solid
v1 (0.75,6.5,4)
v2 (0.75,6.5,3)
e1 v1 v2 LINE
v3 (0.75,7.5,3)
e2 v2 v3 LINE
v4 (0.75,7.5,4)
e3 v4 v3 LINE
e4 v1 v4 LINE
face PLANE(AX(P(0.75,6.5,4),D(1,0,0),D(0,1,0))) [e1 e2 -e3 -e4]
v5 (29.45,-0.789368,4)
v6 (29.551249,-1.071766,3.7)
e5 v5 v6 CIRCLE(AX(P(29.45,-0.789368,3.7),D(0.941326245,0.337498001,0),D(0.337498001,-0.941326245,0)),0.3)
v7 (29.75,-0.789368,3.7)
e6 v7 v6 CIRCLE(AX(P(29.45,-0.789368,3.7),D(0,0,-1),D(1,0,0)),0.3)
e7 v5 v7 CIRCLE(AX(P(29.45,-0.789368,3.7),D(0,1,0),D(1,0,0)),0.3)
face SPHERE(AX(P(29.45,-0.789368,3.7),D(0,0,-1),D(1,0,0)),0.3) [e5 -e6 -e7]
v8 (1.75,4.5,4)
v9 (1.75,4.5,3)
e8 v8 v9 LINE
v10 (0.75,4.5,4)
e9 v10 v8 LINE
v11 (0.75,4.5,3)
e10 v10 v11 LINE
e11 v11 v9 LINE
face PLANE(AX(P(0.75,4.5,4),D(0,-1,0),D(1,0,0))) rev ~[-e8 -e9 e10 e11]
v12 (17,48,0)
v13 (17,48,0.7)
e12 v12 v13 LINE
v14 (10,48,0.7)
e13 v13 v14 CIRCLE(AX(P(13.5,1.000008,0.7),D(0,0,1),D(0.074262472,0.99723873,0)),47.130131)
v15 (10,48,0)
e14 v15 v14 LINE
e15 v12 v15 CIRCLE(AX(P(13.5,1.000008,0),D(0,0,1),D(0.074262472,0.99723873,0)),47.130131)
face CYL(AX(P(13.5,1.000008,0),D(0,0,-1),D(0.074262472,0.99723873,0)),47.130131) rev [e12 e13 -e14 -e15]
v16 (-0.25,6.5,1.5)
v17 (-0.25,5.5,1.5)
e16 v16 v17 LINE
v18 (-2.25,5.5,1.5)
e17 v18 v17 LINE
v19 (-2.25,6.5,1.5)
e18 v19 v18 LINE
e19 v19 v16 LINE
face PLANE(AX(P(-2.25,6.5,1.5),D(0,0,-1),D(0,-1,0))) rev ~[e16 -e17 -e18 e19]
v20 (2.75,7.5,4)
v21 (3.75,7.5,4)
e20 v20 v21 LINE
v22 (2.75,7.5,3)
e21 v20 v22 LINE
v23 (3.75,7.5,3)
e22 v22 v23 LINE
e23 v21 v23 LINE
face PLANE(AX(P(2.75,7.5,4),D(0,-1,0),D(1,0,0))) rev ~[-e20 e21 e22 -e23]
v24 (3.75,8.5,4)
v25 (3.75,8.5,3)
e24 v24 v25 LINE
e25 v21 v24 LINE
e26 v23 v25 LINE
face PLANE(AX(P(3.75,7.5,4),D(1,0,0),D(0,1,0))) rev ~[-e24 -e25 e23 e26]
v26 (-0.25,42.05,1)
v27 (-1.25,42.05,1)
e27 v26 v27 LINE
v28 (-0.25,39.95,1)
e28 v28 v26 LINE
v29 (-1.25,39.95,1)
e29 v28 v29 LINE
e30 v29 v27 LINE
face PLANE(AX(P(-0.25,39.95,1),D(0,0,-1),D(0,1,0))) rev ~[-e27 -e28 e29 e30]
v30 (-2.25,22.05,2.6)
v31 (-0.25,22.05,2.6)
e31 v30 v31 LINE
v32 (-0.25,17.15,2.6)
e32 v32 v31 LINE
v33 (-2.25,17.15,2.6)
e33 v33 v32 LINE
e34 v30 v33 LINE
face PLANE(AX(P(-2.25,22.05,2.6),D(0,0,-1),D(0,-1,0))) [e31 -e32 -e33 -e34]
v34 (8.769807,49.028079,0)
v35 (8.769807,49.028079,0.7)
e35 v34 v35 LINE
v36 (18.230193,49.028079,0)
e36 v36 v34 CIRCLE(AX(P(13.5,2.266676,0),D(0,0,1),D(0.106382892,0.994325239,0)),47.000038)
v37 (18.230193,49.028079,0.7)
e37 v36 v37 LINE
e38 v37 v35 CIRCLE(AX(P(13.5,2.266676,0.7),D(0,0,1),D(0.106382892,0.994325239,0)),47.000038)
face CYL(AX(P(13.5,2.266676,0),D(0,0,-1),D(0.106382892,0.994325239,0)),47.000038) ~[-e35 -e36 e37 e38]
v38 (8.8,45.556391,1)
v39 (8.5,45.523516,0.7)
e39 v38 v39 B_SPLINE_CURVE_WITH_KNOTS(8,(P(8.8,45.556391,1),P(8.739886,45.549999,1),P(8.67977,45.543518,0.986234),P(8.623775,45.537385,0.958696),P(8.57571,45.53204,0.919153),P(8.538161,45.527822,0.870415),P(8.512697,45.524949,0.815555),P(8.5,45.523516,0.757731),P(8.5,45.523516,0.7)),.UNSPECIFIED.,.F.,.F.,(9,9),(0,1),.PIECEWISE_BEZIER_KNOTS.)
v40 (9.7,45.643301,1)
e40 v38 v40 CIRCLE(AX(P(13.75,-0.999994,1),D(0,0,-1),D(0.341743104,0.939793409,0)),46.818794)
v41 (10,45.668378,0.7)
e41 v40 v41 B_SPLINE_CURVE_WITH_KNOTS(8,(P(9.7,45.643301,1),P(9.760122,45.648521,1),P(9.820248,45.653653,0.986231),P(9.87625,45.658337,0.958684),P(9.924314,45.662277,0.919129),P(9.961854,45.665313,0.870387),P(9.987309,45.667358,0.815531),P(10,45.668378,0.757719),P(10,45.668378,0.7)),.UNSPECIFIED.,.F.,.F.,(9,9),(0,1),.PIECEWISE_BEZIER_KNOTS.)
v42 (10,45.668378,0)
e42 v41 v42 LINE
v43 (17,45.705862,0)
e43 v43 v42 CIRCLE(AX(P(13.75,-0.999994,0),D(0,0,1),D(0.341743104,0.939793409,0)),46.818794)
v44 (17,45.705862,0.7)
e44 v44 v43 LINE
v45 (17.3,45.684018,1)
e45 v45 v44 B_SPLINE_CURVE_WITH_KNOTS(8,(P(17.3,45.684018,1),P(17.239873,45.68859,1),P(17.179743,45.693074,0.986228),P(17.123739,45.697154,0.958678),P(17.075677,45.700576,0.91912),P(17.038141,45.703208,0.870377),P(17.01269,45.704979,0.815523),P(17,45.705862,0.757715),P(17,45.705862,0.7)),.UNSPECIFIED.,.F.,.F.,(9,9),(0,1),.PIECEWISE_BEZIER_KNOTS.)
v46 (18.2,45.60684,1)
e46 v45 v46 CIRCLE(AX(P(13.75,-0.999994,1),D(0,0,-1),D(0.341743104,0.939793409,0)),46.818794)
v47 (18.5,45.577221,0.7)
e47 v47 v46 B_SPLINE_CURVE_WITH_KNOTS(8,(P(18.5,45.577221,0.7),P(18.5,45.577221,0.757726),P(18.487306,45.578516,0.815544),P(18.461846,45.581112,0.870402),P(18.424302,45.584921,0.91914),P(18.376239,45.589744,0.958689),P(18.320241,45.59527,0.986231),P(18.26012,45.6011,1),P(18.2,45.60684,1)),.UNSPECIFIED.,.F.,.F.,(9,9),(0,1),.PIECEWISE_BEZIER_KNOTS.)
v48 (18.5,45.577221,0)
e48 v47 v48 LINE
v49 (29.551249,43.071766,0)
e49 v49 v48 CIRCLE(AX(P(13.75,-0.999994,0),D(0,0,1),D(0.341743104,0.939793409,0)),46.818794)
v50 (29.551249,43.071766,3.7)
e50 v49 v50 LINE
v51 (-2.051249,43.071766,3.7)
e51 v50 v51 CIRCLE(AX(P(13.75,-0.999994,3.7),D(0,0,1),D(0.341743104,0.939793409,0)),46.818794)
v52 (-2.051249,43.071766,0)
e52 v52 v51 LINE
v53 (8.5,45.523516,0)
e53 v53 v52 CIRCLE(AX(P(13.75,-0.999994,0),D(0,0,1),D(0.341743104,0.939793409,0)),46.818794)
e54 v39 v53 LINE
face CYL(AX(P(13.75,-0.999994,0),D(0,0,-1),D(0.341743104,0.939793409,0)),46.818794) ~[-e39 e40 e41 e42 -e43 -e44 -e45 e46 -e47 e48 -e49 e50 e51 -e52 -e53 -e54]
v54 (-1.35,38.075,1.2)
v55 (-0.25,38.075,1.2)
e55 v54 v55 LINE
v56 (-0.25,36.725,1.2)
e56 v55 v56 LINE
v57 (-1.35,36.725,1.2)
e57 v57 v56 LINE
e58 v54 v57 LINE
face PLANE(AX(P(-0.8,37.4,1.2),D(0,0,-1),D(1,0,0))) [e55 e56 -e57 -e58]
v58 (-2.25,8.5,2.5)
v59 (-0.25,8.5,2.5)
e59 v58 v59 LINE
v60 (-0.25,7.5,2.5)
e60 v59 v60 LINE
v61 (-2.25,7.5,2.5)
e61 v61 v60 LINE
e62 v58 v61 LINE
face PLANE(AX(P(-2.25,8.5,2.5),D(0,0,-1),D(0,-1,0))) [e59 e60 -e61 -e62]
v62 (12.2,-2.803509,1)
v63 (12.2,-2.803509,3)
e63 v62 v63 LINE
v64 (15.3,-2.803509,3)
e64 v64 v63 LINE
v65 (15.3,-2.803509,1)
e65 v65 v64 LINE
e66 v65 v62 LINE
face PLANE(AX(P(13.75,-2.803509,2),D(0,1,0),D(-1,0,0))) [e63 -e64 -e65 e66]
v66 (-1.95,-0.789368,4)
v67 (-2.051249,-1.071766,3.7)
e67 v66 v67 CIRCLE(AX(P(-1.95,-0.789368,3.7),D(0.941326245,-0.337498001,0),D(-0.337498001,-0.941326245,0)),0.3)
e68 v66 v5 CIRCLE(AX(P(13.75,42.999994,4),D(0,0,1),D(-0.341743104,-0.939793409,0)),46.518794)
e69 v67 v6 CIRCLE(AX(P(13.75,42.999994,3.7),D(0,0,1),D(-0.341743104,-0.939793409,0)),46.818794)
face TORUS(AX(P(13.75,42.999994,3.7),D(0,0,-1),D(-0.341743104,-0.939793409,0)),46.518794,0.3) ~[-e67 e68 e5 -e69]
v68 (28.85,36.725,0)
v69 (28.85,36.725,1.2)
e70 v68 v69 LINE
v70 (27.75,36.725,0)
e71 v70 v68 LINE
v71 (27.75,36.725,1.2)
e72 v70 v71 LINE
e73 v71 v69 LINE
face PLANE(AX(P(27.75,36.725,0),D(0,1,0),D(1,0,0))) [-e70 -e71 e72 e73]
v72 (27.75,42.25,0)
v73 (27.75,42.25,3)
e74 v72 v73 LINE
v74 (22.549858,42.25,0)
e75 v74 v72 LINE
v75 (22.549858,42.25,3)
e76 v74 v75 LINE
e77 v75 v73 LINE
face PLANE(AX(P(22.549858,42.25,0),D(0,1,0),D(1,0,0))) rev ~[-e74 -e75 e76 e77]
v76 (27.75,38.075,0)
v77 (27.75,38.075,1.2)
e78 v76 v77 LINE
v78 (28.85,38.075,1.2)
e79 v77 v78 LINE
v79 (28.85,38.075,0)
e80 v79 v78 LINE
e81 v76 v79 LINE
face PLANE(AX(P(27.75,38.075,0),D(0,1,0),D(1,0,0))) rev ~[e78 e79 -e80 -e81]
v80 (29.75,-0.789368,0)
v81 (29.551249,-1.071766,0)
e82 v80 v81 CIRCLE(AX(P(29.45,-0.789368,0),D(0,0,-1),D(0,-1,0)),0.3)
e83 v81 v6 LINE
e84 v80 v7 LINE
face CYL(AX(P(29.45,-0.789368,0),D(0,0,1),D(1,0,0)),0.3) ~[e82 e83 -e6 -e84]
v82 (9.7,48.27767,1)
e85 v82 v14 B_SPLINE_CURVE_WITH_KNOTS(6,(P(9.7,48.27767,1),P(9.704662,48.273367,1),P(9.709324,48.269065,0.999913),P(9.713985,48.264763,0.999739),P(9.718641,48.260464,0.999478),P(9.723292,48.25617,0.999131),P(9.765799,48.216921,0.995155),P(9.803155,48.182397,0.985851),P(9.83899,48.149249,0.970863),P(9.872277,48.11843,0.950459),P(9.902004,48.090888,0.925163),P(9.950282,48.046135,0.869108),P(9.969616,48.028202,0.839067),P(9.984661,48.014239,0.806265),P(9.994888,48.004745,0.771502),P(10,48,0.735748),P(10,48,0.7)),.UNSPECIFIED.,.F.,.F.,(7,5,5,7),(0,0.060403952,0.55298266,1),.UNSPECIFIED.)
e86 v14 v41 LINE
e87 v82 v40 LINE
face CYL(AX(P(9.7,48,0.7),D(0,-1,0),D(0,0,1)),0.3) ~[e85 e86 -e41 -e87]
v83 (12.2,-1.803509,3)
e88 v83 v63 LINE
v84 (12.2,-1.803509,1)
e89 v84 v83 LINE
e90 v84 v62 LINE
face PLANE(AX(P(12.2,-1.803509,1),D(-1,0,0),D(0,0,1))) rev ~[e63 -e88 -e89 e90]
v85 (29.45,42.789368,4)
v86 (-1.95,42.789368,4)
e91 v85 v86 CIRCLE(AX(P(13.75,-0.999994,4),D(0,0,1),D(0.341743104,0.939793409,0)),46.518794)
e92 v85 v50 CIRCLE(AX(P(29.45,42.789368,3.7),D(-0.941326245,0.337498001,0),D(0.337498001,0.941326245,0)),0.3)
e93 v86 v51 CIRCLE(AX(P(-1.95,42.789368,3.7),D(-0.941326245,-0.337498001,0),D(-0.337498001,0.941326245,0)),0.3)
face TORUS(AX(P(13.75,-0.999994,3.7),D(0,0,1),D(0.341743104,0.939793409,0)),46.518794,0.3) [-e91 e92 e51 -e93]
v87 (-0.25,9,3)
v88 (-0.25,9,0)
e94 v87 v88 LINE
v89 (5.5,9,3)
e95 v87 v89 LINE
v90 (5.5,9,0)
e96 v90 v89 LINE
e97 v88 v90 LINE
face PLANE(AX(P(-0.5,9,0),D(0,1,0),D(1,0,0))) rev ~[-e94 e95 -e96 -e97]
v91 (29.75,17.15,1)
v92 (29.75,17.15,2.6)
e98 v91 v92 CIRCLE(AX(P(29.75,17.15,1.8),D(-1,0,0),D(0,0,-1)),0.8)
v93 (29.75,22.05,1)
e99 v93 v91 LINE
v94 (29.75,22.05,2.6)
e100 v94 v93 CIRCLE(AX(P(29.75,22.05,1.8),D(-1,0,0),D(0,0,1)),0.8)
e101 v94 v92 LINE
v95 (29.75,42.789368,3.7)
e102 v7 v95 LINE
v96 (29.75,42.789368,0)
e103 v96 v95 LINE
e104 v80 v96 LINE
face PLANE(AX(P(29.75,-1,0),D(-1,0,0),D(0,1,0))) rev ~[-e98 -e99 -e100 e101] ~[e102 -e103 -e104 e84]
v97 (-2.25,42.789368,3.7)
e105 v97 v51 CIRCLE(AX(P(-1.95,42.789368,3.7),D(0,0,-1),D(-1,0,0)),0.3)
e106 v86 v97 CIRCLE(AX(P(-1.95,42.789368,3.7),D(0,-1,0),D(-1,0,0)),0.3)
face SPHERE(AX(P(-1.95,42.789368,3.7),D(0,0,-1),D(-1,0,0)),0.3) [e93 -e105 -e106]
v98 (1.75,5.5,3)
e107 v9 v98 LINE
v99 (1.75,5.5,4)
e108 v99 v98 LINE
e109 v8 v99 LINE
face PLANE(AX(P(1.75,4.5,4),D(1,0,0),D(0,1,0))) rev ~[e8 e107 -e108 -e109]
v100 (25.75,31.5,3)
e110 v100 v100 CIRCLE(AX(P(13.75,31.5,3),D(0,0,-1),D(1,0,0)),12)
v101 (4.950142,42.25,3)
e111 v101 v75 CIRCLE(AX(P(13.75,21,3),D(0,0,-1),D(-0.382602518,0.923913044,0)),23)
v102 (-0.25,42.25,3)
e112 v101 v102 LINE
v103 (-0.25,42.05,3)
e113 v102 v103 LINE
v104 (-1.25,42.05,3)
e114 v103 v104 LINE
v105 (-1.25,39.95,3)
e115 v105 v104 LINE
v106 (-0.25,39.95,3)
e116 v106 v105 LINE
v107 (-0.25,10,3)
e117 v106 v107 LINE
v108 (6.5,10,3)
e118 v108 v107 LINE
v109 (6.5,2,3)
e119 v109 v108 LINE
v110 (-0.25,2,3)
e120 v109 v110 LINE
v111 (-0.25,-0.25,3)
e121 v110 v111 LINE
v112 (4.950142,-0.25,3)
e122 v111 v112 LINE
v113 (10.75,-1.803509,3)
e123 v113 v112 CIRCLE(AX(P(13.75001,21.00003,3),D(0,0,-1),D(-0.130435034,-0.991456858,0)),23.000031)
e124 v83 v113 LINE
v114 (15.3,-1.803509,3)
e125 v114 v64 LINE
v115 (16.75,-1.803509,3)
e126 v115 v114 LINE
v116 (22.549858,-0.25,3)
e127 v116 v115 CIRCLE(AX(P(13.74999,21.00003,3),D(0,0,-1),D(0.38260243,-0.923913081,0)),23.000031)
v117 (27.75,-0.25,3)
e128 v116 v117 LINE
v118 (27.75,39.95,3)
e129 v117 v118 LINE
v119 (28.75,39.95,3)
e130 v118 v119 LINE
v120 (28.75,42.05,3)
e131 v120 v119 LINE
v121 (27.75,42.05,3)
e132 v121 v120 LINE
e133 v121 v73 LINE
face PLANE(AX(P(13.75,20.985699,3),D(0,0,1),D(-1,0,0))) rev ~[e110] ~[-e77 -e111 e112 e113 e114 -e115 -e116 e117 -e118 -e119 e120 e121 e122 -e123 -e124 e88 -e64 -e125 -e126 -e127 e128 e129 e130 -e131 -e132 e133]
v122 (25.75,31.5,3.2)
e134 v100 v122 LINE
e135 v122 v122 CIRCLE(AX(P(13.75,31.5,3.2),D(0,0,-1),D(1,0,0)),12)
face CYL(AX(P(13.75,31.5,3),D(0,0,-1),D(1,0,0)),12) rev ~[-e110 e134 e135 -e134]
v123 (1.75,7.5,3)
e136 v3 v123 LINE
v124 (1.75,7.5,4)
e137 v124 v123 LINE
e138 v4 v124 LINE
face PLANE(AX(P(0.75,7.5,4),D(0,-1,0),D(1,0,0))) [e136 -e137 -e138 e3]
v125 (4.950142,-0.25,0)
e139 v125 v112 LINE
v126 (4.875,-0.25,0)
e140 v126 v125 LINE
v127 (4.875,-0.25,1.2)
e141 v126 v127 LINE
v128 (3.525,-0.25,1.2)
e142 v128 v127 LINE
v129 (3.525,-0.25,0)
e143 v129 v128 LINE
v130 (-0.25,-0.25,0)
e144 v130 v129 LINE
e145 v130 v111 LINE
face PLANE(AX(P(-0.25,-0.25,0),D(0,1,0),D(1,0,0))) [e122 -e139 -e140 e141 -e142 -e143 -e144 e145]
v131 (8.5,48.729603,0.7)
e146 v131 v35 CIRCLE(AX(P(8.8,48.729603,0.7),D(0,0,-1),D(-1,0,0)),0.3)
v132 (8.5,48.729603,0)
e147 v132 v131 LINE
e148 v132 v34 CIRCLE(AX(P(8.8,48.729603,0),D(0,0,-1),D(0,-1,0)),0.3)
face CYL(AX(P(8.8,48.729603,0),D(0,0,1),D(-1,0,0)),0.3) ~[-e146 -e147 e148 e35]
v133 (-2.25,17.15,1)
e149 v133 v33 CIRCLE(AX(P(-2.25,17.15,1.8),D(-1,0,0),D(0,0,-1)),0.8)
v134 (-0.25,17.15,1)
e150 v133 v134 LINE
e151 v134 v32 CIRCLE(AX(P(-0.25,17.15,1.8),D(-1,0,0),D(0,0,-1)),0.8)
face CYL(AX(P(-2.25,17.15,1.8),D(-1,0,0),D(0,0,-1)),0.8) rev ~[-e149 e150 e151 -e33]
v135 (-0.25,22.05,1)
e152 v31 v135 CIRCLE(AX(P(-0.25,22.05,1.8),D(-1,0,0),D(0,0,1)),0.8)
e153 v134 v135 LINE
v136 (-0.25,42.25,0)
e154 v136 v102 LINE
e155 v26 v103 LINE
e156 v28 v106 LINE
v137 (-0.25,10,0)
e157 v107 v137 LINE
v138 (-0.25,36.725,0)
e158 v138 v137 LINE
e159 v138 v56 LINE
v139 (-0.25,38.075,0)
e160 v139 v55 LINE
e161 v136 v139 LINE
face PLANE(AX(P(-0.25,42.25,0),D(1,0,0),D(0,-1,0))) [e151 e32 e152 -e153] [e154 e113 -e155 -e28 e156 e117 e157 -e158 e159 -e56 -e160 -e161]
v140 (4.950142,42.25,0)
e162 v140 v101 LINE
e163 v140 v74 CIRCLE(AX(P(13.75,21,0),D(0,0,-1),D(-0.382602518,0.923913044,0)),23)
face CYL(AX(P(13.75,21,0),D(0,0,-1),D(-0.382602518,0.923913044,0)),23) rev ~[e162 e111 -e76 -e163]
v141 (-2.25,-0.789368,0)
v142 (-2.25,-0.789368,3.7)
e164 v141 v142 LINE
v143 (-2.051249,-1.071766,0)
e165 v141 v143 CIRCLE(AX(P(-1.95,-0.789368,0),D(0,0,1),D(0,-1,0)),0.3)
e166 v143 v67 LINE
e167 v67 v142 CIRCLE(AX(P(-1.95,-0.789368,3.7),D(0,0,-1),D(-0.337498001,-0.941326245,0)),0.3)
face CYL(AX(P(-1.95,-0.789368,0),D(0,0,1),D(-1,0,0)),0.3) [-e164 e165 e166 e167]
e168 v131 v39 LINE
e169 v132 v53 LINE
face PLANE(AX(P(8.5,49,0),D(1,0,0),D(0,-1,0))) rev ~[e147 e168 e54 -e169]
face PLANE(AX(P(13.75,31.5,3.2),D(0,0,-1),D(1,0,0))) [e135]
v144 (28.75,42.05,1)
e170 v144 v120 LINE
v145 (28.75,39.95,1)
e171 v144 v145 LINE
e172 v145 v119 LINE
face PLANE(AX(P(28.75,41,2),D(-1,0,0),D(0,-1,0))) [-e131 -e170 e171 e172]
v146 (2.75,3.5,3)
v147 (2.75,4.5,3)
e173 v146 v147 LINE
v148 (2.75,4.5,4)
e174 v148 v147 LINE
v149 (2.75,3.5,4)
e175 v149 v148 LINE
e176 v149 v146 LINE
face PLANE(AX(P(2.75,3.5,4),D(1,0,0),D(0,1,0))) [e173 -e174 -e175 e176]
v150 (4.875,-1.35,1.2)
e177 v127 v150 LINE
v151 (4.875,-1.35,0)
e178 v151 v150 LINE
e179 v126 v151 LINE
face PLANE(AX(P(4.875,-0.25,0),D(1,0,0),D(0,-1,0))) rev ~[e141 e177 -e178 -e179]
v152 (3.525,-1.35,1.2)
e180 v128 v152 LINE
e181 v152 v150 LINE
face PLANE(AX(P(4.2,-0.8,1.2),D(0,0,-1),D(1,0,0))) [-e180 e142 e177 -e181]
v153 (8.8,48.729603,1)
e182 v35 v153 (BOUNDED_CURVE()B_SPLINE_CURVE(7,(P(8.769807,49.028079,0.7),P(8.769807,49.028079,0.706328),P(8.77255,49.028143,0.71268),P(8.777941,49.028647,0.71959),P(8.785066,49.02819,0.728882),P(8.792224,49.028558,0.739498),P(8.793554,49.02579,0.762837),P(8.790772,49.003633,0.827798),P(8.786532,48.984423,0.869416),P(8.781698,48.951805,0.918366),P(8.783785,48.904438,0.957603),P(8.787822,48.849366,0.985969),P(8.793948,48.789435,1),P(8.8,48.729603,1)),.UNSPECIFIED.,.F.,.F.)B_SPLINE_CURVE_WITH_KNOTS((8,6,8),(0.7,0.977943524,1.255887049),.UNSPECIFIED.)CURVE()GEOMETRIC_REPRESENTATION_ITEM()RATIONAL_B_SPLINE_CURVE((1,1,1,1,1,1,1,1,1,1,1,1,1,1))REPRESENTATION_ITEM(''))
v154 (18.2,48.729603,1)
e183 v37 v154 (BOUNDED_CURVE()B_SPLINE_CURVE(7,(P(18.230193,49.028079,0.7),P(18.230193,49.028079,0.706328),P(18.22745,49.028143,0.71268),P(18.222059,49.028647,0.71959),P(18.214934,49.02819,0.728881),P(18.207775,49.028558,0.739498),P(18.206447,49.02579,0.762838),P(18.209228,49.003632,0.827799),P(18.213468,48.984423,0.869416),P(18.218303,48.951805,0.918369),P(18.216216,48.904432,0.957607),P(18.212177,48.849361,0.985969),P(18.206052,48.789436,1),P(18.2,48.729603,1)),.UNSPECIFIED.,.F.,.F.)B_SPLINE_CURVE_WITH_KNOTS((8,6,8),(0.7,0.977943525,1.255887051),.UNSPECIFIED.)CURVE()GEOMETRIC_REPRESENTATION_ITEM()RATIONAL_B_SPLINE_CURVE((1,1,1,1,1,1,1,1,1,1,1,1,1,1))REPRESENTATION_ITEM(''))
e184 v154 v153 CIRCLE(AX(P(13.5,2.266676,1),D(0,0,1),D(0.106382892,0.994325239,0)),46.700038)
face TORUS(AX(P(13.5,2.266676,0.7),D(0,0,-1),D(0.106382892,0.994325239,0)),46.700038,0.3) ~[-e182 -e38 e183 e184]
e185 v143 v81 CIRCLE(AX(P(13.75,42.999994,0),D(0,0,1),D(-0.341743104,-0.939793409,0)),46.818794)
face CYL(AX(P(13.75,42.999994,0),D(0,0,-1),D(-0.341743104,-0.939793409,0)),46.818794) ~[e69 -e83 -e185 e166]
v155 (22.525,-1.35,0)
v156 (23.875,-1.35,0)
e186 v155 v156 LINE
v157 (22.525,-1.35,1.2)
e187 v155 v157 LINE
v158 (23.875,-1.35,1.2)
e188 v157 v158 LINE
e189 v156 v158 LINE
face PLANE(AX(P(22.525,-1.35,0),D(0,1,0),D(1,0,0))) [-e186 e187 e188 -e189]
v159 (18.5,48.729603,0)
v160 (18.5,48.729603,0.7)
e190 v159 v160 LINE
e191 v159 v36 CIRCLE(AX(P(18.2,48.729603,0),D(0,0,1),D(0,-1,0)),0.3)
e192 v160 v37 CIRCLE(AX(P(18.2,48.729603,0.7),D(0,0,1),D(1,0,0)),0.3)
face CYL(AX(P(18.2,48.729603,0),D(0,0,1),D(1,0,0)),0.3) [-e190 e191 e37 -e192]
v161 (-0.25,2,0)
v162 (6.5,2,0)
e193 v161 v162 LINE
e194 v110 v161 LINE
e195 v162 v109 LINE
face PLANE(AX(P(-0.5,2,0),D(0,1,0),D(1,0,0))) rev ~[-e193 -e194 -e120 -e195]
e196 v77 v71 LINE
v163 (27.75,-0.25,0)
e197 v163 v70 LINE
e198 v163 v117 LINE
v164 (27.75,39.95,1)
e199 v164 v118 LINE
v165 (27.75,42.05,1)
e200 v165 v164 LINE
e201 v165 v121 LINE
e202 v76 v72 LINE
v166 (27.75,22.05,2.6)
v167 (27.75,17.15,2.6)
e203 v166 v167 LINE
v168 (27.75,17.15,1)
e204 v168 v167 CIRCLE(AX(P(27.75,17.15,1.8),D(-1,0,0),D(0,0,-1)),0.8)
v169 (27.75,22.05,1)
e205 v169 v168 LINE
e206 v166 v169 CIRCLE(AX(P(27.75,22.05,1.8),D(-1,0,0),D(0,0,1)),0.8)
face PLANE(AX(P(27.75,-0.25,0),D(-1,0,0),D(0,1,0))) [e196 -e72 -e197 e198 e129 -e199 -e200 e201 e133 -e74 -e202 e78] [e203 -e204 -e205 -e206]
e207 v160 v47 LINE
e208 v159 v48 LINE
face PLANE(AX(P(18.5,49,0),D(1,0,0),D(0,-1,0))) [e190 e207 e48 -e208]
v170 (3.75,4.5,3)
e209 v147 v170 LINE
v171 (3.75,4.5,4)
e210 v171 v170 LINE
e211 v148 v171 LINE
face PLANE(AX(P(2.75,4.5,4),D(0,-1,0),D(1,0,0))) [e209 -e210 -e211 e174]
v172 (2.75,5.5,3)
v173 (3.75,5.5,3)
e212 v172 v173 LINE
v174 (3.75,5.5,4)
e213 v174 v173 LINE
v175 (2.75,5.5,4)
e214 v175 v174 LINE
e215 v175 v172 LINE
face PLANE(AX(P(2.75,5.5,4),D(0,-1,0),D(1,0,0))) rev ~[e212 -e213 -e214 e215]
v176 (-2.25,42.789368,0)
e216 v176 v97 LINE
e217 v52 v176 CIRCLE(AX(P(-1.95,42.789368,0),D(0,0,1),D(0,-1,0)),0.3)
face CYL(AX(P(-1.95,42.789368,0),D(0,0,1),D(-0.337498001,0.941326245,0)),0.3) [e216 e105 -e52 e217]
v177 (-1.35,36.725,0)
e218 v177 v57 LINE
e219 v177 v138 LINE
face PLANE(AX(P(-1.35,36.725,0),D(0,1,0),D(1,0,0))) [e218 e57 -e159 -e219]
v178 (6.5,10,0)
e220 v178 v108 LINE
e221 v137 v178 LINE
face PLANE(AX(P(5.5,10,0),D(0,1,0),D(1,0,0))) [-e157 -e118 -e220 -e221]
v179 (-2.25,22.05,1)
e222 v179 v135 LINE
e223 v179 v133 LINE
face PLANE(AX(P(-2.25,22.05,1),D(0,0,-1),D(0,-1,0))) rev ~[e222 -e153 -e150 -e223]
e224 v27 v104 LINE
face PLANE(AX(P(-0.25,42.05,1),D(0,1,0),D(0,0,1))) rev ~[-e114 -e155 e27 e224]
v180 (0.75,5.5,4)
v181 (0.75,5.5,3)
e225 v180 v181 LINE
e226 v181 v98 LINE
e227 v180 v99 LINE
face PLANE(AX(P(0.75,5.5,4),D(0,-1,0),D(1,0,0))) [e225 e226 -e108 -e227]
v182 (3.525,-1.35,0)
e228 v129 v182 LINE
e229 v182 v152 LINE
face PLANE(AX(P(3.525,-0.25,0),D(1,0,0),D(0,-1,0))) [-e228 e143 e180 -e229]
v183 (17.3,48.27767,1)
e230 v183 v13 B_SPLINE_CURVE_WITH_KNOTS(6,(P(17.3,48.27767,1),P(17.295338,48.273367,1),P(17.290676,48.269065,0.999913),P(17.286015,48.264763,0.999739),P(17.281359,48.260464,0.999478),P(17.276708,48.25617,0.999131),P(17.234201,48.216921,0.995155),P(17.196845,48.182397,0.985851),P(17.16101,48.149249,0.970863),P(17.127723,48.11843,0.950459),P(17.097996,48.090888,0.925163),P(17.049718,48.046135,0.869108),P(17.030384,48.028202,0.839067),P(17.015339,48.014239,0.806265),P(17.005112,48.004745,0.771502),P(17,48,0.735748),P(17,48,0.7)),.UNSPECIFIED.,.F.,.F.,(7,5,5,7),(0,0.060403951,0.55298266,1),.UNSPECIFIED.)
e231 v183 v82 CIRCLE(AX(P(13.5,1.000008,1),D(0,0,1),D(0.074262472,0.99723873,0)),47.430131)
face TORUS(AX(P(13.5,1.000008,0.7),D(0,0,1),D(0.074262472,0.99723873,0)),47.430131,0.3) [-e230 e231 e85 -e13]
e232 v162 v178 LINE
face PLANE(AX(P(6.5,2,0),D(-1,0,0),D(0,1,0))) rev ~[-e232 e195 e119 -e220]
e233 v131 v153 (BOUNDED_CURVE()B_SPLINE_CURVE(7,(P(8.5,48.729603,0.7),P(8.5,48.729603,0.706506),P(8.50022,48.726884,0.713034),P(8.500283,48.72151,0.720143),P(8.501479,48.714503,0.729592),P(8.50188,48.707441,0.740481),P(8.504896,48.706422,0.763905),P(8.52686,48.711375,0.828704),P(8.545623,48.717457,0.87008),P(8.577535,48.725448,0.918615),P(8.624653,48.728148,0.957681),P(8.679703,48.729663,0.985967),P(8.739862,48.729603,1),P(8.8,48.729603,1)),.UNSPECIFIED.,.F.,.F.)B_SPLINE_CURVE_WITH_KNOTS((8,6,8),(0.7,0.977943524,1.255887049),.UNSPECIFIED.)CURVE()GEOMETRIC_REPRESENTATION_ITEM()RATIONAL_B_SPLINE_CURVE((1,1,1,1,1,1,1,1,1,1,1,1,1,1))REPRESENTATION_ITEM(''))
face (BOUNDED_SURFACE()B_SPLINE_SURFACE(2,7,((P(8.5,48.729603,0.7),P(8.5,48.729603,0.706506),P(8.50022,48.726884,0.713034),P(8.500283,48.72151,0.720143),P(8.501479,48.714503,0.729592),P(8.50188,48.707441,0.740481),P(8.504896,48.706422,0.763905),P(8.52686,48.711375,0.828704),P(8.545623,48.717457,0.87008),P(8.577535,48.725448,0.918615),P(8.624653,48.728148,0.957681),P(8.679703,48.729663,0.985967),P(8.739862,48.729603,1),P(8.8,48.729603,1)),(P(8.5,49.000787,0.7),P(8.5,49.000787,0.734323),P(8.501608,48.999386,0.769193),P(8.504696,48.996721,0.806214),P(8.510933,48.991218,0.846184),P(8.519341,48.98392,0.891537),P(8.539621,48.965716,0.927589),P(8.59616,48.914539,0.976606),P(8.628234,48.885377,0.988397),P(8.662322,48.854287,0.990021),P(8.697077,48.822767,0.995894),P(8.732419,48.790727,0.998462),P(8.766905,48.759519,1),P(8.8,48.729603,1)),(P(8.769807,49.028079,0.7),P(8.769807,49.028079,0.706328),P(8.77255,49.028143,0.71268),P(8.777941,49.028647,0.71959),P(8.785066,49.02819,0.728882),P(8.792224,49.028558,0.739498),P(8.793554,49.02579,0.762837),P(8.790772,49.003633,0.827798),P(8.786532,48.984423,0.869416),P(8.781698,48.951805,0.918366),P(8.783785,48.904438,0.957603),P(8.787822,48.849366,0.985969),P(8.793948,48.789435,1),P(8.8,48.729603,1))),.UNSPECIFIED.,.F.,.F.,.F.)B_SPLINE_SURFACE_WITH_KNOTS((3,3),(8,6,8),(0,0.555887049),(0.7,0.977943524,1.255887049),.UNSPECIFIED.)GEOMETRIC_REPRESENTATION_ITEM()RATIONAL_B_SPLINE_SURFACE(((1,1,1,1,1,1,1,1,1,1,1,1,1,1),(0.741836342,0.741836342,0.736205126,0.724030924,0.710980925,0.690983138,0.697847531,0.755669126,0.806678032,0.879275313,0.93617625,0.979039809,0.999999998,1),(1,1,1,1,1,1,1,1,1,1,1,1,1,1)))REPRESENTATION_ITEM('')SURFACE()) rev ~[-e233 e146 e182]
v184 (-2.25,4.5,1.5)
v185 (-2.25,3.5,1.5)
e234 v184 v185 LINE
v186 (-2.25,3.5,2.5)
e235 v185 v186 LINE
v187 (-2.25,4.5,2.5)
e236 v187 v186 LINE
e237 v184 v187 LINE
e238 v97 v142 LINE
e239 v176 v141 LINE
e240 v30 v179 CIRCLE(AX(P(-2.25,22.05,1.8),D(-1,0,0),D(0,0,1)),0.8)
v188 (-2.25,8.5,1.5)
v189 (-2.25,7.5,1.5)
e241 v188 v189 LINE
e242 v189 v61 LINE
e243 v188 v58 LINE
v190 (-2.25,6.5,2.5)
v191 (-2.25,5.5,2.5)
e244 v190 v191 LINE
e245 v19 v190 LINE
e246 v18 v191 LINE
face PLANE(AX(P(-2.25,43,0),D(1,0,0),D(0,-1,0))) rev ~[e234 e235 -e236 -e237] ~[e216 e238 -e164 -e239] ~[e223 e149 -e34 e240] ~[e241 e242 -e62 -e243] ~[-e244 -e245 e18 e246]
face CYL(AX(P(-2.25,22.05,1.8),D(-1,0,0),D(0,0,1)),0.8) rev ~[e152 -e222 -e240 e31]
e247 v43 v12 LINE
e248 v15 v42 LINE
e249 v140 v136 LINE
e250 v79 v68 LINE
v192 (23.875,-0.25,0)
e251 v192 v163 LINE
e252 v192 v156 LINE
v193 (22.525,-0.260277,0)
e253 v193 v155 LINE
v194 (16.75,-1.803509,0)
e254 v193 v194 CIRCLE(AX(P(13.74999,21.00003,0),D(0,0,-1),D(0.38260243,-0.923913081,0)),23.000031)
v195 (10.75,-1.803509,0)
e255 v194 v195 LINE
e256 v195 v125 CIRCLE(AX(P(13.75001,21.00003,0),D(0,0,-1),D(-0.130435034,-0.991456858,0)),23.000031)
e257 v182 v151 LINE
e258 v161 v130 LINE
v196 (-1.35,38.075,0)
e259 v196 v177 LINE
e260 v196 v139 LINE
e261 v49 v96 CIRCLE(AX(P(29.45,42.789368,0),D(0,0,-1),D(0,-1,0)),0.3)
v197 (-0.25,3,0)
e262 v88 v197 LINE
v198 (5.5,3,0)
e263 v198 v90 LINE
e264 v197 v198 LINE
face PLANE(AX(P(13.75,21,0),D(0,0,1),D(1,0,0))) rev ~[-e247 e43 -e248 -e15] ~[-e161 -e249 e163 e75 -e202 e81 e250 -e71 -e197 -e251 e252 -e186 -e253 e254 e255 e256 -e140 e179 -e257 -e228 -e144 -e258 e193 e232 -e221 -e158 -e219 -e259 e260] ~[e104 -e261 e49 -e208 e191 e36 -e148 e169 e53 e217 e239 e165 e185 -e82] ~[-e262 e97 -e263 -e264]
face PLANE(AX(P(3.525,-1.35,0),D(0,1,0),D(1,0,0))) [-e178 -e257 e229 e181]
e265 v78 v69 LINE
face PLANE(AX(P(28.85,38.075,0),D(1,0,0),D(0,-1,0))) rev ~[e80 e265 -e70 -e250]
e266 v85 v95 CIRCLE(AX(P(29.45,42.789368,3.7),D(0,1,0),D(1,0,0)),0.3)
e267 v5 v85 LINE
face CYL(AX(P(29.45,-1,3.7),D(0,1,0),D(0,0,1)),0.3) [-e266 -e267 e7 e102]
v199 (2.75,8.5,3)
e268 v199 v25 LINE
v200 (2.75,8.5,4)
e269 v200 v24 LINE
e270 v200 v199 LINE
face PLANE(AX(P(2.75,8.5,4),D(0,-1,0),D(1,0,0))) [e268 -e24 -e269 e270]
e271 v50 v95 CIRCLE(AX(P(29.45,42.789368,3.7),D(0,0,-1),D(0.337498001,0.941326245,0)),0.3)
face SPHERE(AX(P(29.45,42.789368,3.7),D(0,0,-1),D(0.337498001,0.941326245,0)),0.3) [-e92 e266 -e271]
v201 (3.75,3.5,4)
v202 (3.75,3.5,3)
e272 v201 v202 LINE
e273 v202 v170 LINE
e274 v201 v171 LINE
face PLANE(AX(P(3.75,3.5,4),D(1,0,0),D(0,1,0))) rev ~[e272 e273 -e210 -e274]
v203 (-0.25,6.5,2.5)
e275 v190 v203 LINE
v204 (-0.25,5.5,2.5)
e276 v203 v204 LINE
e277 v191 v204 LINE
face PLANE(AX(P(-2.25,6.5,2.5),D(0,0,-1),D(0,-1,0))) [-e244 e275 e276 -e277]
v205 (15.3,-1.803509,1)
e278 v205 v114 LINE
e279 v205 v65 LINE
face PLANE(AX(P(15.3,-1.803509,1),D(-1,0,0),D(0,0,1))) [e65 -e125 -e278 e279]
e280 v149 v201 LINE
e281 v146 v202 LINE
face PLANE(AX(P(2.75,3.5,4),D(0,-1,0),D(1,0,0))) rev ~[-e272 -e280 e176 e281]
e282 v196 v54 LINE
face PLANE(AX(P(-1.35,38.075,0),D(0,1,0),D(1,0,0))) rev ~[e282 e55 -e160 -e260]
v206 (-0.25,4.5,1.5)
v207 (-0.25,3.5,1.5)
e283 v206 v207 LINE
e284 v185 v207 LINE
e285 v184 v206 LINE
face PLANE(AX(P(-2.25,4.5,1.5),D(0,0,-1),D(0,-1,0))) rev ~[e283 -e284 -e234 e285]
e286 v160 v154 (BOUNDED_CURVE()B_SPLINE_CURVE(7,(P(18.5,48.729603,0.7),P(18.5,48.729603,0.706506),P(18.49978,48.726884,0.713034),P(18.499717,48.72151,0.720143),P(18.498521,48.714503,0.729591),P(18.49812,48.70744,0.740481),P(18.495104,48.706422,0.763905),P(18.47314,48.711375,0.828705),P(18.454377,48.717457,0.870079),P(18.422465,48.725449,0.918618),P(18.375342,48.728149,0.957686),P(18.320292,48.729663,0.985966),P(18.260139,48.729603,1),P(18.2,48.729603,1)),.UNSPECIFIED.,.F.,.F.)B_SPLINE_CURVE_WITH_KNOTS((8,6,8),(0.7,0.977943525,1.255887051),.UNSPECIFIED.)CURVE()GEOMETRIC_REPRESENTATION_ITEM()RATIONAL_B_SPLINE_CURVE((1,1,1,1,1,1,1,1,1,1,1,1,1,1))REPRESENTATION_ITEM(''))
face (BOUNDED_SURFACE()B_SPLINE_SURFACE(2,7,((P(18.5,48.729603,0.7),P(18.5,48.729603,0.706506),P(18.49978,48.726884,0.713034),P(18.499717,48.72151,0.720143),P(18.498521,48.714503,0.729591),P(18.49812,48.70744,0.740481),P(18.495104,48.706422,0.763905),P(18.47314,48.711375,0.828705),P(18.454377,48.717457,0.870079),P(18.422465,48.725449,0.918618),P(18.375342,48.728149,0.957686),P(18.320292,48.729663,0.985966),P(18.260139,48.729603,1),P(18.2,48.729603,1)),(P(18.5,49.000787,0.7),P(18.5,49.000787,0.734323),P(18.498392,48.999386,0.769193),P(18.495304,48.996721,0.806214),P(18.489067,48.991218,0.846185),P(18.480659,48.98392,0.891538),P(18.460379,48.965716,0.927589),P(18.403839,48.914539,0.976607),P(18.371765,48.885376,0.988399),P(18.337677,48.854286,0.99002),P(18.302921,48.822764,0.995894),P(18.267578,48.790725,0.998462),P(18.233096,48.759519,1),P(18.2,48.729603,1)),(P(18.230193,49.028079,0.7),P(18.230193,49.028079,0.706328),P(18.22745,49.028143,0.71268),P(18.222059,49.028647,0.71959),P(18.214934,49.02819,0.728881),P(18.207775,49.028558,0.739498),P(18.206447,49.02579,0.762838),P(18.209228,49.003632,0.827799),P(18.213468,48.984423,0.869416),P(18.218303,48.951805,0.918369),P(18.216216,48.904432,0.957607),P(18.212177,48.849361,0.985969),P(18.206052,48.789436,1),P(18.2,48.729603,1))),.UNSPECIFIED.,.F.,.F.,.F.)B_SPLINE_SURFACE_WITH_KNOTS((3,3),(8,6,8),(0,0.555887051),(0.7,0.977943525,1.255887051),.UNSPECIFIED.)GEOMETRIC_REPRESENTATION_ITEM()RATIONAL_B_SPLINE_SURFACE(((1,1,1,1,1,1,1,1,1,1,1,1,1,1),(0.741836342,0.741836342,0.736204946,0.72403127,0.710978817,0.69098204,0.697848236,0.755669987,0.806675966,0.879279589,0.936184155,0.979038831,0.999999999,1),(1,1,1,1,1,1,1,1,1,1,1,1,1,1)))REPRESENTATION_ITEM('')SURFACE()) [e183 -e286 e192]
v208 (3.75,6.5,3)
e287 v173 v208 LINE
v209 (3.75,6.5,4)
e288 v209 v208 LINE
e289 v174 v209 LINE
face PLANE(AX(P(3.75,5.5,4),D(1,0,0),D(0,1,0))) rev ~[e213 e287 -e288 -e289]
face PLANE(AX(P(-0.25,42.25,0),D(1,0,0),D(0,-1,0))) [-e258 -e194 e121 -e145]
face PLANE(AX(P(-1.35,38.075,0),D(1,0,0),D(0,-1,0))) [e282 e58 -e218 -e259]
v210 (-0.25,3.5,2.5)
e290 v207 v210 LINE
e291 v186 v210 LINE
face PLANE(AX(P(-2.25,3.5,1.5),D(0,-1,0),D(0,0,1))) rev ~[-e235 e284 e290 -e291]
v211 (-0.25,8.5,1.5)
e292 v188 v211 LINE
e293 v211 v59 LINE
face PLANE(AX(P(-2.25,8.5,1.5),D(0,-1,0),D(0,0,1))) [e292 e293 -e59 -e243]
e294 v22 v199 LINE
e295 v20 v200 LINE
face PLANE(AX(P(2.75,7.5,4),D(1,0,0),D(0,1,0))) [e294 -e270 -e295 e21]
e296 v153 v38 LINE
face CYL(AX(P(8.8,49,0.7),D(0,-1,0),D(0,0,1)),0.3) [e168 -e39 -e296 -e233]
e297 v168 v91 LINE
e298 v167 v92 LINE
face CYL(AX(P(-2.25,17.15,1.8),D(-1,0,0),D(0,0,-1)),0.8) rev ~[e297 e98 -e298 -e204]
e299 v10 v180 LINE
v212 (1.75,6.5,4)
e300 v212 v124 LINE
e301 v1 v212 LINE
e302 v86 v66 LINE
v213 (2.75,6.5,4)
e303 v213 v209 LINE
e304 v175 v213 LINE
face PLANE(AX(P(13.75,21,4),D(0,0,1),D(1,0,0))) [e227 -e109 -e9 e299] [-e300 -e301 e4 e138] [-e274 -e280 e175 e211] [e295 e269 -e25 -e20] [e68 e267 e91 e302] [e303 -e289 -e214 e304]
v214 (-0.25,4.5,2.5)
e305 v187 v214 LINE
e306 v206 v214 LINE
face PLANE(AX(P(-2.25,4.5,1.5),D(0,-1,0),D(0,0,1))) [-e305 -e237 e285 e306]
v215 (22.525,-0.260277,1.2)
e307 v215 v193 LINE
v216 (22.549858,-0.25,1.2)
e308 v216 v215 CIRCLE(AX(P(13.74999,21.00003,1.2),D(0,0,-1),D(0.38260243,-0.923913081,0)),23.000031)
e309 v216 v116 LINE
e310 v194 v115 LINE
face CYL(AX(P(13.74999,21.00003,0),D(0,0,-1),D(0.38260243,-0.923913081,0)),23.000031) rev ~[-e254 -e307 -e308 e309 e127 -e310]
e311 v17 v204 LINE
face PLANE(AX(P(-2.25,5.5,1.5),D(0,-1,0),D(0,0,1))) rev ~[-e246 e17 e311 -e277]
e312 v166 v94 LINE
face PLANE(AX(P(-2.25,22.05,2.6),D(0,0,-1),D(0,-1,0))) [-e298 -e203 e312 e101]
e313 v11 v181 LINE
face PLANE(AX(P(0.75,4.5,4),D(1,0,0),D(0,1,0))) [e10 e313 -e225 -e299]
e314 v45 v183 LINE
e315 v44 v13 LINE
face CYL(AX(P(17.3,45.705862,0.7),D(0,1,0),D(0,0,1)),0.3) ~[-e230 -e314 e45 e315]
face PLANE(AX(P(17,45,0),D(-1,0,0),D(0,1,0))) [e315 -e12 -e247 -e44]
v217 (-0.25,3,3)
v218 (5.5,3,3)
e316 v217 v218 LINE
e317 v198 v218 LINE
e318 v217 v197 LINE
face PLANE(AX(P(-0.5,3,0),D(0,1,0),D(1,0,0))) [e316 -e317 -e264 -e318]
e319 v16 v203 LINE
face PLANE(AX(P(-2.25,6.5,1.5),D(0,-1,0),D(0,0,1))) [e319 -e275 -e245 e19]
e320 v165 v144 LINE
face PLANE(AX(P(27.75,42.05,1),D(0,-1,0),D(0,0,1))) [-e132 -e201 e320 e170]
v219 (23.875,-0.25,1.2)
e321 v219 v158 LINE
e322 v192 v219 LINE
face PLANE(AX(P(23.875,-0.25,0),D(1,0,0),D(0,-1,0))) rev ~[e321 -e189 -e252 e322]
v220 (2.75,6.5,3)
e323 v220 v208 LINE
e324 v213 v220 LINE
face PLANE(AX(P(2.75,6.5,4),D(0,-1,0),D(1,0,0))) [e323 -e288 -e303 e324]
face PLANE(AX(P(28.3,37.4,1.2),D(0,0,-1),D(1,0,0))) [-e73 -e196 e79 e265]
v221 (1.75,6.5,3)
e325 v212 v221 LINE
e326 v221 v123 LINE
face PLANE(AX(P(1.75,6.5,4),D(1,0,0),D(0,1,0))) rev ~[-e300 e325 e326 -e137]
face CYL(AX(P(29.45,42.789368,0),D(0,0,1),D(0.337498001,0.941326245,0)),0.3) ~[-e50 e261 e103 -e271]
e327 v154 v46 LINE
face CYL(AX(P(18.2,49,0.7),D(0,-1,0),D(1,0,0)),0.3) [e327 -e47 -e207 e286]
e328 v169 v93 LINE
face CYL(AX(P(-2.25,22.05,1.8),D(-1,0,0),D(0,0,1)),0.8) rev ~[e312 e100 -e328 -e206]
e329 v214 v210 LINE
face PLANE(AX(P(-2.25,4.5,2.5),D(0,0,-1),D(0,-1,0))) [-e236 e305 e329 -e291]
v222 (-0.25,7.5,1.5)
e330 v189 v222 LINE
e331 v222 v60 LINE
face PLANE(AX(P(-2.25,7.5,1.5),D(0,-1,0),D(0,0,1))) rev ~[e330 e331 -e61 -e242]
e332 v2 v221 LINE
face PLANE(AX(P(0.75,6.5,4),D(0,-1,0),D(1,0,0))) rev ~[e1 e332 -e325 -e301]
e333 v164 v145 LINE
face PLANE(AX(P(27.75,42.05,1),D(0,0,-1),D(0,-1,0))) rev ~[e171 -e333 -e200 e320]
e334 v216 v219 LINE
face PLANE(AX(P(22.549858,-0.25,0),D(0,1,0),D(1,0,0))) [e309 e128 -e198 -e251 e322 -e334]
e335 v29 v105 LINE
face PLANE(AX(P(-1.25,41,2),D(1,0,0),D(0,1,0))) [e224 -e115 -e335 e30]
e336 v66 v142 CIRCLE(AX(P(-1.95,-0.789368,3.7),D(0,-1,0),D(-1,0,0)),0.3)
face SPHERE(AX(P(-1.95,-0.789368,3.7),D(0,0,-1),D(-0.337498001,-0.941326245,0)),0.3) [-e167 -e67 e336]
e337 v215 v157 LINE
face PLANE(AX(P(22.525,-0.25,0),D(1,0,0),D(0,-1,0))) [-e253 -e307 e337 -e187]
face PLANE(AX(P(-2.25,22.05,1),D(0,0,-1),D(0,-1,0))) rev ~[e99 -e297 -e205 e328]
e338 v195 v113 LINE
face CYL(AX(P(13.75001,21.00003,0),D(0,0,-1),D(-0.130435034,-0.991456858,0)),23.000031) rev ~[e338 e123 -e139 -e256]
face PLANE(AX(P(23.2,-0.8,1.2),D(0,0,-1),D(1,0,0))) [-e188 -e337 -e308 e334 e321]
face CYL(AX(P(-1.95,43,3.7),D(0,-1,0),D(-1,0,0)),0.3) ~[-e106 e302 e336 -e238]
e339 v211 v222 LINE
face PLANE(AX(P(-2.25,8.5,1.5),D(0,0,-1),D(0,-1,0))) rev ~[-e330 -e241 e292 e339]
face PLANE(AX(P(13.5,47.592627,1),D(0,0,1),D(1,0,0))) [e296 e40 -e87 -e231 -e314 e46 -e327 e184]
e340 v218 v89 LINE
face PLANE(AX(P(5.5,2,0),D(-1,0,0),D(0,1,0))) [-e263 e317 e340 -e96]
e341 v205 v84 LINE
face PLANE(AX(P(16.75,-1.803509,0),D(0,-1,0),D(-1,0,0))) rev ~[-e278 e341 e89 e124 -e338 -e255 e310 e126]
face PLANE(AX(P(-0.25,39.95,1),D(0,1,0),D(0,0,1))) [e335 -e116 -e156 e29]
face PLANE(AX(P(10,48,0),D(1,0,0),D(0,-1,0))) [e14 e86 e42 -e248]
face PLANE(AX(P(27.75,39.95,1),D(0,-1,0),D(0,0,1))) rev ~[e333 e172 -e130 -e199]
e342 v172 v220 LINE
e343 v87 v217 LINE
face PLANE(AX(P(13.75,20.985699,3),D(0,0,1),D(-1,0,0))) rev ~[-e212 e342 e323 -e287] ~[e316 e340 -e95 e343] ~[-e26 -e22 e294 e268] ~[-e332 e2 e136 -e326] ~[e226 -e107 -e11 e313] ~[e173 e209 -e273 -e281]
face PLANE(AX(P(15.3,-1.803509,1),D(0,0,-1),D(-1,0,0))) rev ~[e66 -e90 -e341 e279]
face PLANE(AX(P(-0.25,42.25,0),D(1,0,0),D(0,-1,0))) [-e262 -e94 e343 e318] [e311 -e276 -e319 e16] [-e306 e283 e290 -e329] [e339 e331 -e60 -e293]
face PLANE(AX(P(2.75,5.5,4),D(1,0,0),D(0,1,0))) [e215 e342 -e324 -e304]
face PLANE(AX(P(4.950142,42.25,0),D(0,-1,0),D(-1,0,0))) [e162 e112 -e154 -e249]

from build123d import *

# Parameters (mm, degrees)
PAD_DEPTH       = 4
POCKET003_DEPTH = 3
POCKET004_DEPTH = 32.001
SKETCH012_W     = 3.1
SKETCH012_H     = 2
POCKET006_DEPTH = 1
SKETCH013_W     = 2.1
SKETCH013_H     = 2
POCKET007_DEPTH = 1
SKETCH014_W     = 2.1
SKETCH014_H     = 2
POCKET008_DEPTH = 1
SKETCH016_W     = 1
SKETCH016_H     = 1
POCKET009_DEPTH = 2
SKETCH018_W     = 1
SKETCH018_H     = 1
POCKET010_DEPTH = 1
SKETCH021_R     = 12
POCKET011_DEPTH = 0.2
SKETCH024_W     = 1.35
SKETCH024_H     = 1.1
SKETCH024_W_2   = 1.1
SKETCH024_H_2   = 1.35
POCKET012_DEPTH = 1.2
BOX009_W        = 1
BOX009_H        = 8
BOX009_DEPTH    = 3
BOX010_W        = 6
BOX010_H        = 1
BOX010_DEPTH    = 3
BOX008_W        = 6
BOX008_H        = 1
BOX008_DEPTH    = 3
PAD007_DEPTH    = 1
FILLET_R        = 0.3
FILLET009_R     = 0.3


with BuildPart() as pocket012:
    # Sketch001 → Pad (new body)
    with BuildSketch(Plane(origin=(13.75, 21, 0), x_dir=(1, 0, 0), z_dir=(0, 0, 1))):
        with BuildLine():
            ThreePointArc((16, 22), (0, 24.8188), (-16, 22))
            Line((-16, 22), (-16, -22))
            ThreePointArc((-16, -22), (0, -24.8188), (16, -22))
            Line((16, -22), (16, 22))
        make_face()
    extrude(amount=PAD_DEPTH)

    # Sketch005 → Pocket003 (cut)
    with BuildSketch(Plane(origin=(13.75, 21, 0), x_dir=(1, 0, 0), z_dir=(0, 0, -1))):
        with BuildLine():
            Line((14, 21.25), (14, -21.25))
            Line((8.799858, -21.25), (14, -21.25))
            ThreePointArc((-8.799858, -21.25), (0, -23), (8.799858, -21.25))
            Line((-8.799858, -21.25), (-14, -21.25))
            Line((-14, -21.25), (-14, 21.25))
            Line((-14, 21.25), (-8.799858, 21.25))
            ThreePointArc((-3, 22.803509), (-5.950841, 22.216829), (-8.799858, 21.25))
            Line((3, 22.803509), (-3, 22.803509))
            ThreePointArc((8.799858, 21.25), (5.950841, 22.216829), (3, 22.803509))
            Line((8.799858, 21.25), (14, 21.25))
        make_face()
    extrude(amount=-POCKET003_DEPTH, mode=Mode.SUBTRACT)

    # Sketch007 → Pocket004 (cut, through all)
    with BuildSketch(Plane(origin=(-2.25, 21, 0), x_dir=(0, -1, 0), z_dir=(-1, 0, 0))):
        with BuildLine():
            ThreePointArc((-1.05, 2.6), (-1.85, 1.8), (-1.05, 1))
            Line((-1.05, 1), (3.85, 1))
            ThreePointArc((3.85, 1), (4.65, 1.8), (3.85, 2.6))
            Line((-1.05, 2.6), (3.85, 2.6))
        make_face()
    extrude(amount=-POCKET004_DEPTH, mode=Mode.SUBTRACT)

    # Sketch012 → Pocket006 (cut)
    with BuildSketch(Plane(origin=(13.75, -1.803509, 0), x_dir=(-1, 0, 0), z_dir=(0, 1, 0))):
        with Locations((0, 2)):
            Rectangle(SKETCH012_W, SKETCH012_H)
    extrude(amount=-POCKET006_DEPTH, mode=Mode.SUBTRACT)

    # Sketch013 → Pocket007 (cut)
    with BuildSketch(Plane(origin=(-0.25, 21, 0), x_dir=(0, 1, 0), z_dir=(1, 0, 0))):
        with Locations((20, 2)):
            Rectangle(SKETCH013_W, SKETCH013_H)
    extrude(amount=-POCKET007_DEPTH, mode=Mode.SUBTRACT)

    # Sketch014 → Pocket008 (cut)
    with BuildSketch(Plane(origin=(27.75, 21, 0), x_dir=(0, -1, 0), z_dir=(-1, 0, 0))):
        with Locations((-20, 2)):
            Rectangle(SKETCH014_W, SKETCH014_H)
    extrude(amount=-POCKET008_DEPTH, mode=Mode.SUBTRACT)

    # Sketch016 → Pocket009 (cut)
    with BuildSketch(Plane(origin=(-2.25, 21, 0), x_dir=(0, -1, 0), z_dir=(-1, 0, 0))):
        with Locations((13, 2)):
            Rectangle(SKETCH016_W, SKETCH016_H)
        with Locations((15, 2)):
            Rectangle(SKETCH016_W, SKETCH016_H)
        with Locations((17, 2)):
            Rectangle(SKETCH016_W, SKETCH016_H)
    extrude(amount=-POCKET009_DEPTH, mode=Mode.SUBTRACT)

    # Sketch018 → Pocket010 (cut)
    with BuildSketch(Plane(origin=(13.75, 21, 4), x_dir=(1, 0, 0), z_dir=(0, 0, 1))):
        with Locations((-10.5, -13)):
            Rectangle(SKETCH018_W, SKETCH018_H)
        with Locations((-10.5, -15)):
            Rectangle(SKETCH018_W, SKETCH018_H)
        with Locations((-10.5, -17)):
            Rectangle(SKETCH018_W, SKETCH018_H)
        with Locations((-12.5, -14)):
            Rectangle(SKETCH018_W, SKETCH018_H)
        with Locations((-12.5, -16)):
            Rectangle(SKETCH018_W, SKETCH018_H)
    extrude(amount=-POCKET010_DEPTH, mode=Mode.SUBTRACT)

    # Sketch021 → Pocket011 (cut)
    with BuildSketch(Plane(origin=(13.75, 21, 3), x_dir=(1, 0, 0), z_dir=(0, 0, -1))):
        with Locations((0, -10.5)):
            Circle(SKETCH021_R)
    extrude(amount=-POCKET011_DEPTH, mode=Mode.SUBTRACT)

    # Sketch024 → Pocket012 (cut)
    with BuildSketch(Plane(origin=(13.75, 21, 0), x_dir=(1, 0, 0), z_dir=(0, 0, -1))):
        with Locations((-9.55, 21.8)):
            Rectangle(SKETCH024_W, SKETCH024_H)
        with Locations((9.45, 21.8)):
            Rectangle(SKETCH024_W, SKETCH024_H)
        with Locations((-14.55, -16.4)):
            Rectangle(SKETCH024_W_2, SKETCH024_H_2)
        with Locations((14.55, -16.4)):
            Rectangle(SKETCH024_W_2, SKETCH024_H_2)
    extrude(amount=-POCKET012_DEPTH, mode=Mode.SUBTRACT)


with BuildPart() as box009:
    # Box009 → Box009 (new body)
    with BuildSketch(Plane(origin=(5.5, 2, 0), x_dir=(1, 0, 0), z_dir=(0, 0, 1))):
        with Locations((0.5, 4)):
            Rectangle(BOX009_W, BOX009_H)
    extrude(amount=BOX009_DEPTH)


with BuildPart() as box010:
    # Box010 → Box010 (new body)
    with BuildSketch(Plane(origin=(-0.5, 2, 0), x_dir=(1, 0, 0), z_dir=(0, 0, 1))):
        with Locations((3, 0.5)):
            Rectangle(BOX010_W, BOX010_H)
    extrude(amount=BOX010_DEPTH)


with BuildPart() as fusion013:
    # Box008 → Box008 (new body)
    with BuildSketch(Plane(origin=(-0.5, 9, 0), x_dir=(1, 0, 0), z_dir=(0, 0, 1))):
        with Locations((3, 0.5)):
            Rectangle(BOX008_W, BOX008_H)
    extrude(amount=BOX008_DEPTH)

    # Fusion012: union Box009, Box010
    add(box009.part)
    add(box010.part)

    # Fusion013: union Pocket012
    add(pocket012.part)


with BuildPart() as fillet009:
    # Sketch025 → Pad007 (new body)
    with BuildSketch(Plane(origin=(13.5, 1, 0), x_dir=(1, 0, 0), z_dir=(0, 0, 1))):
        with BuildLine():
            ThreePointArc((5, 48), (0, 48.266714), (-5, 48))
            Line((-5, 48), (-5, 44))
            Line((-5, 44), (-3.5, 44))
            Line((-3.5, 47), (-3.5, 44))
            ThreePointArc((3.5, 47), (0, 47.130139), (-3.5, 47))
            Line((3.5, 44), (3.5, 47))
            Line((5, 44), (3.5, 44))
            Line((5, 48), (5, 44))
        make_face()
    extrude(amount=PAD007_DEPTH)

    # Fusion014: union Fusion013
    add(fusion013.part)

    # Fillet
    fillet_edges = [fillet009.edges().sort_by_distance(p)[0] for p in [
        (13.75, 45.8188, 4),
        (29.75, 21, 4),
        (29.75, 43, 2),
        (18.5, 47.28861, 1),
        (13.5, 49.266714, 1),
        (8.5, 47.261758, 1),
        (10, 46.834189, 1),
        (13.5, 48.130139, 1),
        (17, 46.852931, 1),
        (-2.25, 43, 2),
        (-2.25, 21, 4),
        (-2.25, -1, 2),
        (13.75, -3.8188, 4),
        (29.75, -1, 2),
    ]]
    fillet(fillet_edges, radius=FILLET_R)

    # Fillet009
    fillet009_edges = [fillet009.edges().sort_by_distance(p)[0] for p in [
        (8.5, 49, 0.35),
        (18.5, 49, 0.35),
    ]]
    fillet(fillet009_edges, radius=FILLET009_R)


solid = fillet009.part
